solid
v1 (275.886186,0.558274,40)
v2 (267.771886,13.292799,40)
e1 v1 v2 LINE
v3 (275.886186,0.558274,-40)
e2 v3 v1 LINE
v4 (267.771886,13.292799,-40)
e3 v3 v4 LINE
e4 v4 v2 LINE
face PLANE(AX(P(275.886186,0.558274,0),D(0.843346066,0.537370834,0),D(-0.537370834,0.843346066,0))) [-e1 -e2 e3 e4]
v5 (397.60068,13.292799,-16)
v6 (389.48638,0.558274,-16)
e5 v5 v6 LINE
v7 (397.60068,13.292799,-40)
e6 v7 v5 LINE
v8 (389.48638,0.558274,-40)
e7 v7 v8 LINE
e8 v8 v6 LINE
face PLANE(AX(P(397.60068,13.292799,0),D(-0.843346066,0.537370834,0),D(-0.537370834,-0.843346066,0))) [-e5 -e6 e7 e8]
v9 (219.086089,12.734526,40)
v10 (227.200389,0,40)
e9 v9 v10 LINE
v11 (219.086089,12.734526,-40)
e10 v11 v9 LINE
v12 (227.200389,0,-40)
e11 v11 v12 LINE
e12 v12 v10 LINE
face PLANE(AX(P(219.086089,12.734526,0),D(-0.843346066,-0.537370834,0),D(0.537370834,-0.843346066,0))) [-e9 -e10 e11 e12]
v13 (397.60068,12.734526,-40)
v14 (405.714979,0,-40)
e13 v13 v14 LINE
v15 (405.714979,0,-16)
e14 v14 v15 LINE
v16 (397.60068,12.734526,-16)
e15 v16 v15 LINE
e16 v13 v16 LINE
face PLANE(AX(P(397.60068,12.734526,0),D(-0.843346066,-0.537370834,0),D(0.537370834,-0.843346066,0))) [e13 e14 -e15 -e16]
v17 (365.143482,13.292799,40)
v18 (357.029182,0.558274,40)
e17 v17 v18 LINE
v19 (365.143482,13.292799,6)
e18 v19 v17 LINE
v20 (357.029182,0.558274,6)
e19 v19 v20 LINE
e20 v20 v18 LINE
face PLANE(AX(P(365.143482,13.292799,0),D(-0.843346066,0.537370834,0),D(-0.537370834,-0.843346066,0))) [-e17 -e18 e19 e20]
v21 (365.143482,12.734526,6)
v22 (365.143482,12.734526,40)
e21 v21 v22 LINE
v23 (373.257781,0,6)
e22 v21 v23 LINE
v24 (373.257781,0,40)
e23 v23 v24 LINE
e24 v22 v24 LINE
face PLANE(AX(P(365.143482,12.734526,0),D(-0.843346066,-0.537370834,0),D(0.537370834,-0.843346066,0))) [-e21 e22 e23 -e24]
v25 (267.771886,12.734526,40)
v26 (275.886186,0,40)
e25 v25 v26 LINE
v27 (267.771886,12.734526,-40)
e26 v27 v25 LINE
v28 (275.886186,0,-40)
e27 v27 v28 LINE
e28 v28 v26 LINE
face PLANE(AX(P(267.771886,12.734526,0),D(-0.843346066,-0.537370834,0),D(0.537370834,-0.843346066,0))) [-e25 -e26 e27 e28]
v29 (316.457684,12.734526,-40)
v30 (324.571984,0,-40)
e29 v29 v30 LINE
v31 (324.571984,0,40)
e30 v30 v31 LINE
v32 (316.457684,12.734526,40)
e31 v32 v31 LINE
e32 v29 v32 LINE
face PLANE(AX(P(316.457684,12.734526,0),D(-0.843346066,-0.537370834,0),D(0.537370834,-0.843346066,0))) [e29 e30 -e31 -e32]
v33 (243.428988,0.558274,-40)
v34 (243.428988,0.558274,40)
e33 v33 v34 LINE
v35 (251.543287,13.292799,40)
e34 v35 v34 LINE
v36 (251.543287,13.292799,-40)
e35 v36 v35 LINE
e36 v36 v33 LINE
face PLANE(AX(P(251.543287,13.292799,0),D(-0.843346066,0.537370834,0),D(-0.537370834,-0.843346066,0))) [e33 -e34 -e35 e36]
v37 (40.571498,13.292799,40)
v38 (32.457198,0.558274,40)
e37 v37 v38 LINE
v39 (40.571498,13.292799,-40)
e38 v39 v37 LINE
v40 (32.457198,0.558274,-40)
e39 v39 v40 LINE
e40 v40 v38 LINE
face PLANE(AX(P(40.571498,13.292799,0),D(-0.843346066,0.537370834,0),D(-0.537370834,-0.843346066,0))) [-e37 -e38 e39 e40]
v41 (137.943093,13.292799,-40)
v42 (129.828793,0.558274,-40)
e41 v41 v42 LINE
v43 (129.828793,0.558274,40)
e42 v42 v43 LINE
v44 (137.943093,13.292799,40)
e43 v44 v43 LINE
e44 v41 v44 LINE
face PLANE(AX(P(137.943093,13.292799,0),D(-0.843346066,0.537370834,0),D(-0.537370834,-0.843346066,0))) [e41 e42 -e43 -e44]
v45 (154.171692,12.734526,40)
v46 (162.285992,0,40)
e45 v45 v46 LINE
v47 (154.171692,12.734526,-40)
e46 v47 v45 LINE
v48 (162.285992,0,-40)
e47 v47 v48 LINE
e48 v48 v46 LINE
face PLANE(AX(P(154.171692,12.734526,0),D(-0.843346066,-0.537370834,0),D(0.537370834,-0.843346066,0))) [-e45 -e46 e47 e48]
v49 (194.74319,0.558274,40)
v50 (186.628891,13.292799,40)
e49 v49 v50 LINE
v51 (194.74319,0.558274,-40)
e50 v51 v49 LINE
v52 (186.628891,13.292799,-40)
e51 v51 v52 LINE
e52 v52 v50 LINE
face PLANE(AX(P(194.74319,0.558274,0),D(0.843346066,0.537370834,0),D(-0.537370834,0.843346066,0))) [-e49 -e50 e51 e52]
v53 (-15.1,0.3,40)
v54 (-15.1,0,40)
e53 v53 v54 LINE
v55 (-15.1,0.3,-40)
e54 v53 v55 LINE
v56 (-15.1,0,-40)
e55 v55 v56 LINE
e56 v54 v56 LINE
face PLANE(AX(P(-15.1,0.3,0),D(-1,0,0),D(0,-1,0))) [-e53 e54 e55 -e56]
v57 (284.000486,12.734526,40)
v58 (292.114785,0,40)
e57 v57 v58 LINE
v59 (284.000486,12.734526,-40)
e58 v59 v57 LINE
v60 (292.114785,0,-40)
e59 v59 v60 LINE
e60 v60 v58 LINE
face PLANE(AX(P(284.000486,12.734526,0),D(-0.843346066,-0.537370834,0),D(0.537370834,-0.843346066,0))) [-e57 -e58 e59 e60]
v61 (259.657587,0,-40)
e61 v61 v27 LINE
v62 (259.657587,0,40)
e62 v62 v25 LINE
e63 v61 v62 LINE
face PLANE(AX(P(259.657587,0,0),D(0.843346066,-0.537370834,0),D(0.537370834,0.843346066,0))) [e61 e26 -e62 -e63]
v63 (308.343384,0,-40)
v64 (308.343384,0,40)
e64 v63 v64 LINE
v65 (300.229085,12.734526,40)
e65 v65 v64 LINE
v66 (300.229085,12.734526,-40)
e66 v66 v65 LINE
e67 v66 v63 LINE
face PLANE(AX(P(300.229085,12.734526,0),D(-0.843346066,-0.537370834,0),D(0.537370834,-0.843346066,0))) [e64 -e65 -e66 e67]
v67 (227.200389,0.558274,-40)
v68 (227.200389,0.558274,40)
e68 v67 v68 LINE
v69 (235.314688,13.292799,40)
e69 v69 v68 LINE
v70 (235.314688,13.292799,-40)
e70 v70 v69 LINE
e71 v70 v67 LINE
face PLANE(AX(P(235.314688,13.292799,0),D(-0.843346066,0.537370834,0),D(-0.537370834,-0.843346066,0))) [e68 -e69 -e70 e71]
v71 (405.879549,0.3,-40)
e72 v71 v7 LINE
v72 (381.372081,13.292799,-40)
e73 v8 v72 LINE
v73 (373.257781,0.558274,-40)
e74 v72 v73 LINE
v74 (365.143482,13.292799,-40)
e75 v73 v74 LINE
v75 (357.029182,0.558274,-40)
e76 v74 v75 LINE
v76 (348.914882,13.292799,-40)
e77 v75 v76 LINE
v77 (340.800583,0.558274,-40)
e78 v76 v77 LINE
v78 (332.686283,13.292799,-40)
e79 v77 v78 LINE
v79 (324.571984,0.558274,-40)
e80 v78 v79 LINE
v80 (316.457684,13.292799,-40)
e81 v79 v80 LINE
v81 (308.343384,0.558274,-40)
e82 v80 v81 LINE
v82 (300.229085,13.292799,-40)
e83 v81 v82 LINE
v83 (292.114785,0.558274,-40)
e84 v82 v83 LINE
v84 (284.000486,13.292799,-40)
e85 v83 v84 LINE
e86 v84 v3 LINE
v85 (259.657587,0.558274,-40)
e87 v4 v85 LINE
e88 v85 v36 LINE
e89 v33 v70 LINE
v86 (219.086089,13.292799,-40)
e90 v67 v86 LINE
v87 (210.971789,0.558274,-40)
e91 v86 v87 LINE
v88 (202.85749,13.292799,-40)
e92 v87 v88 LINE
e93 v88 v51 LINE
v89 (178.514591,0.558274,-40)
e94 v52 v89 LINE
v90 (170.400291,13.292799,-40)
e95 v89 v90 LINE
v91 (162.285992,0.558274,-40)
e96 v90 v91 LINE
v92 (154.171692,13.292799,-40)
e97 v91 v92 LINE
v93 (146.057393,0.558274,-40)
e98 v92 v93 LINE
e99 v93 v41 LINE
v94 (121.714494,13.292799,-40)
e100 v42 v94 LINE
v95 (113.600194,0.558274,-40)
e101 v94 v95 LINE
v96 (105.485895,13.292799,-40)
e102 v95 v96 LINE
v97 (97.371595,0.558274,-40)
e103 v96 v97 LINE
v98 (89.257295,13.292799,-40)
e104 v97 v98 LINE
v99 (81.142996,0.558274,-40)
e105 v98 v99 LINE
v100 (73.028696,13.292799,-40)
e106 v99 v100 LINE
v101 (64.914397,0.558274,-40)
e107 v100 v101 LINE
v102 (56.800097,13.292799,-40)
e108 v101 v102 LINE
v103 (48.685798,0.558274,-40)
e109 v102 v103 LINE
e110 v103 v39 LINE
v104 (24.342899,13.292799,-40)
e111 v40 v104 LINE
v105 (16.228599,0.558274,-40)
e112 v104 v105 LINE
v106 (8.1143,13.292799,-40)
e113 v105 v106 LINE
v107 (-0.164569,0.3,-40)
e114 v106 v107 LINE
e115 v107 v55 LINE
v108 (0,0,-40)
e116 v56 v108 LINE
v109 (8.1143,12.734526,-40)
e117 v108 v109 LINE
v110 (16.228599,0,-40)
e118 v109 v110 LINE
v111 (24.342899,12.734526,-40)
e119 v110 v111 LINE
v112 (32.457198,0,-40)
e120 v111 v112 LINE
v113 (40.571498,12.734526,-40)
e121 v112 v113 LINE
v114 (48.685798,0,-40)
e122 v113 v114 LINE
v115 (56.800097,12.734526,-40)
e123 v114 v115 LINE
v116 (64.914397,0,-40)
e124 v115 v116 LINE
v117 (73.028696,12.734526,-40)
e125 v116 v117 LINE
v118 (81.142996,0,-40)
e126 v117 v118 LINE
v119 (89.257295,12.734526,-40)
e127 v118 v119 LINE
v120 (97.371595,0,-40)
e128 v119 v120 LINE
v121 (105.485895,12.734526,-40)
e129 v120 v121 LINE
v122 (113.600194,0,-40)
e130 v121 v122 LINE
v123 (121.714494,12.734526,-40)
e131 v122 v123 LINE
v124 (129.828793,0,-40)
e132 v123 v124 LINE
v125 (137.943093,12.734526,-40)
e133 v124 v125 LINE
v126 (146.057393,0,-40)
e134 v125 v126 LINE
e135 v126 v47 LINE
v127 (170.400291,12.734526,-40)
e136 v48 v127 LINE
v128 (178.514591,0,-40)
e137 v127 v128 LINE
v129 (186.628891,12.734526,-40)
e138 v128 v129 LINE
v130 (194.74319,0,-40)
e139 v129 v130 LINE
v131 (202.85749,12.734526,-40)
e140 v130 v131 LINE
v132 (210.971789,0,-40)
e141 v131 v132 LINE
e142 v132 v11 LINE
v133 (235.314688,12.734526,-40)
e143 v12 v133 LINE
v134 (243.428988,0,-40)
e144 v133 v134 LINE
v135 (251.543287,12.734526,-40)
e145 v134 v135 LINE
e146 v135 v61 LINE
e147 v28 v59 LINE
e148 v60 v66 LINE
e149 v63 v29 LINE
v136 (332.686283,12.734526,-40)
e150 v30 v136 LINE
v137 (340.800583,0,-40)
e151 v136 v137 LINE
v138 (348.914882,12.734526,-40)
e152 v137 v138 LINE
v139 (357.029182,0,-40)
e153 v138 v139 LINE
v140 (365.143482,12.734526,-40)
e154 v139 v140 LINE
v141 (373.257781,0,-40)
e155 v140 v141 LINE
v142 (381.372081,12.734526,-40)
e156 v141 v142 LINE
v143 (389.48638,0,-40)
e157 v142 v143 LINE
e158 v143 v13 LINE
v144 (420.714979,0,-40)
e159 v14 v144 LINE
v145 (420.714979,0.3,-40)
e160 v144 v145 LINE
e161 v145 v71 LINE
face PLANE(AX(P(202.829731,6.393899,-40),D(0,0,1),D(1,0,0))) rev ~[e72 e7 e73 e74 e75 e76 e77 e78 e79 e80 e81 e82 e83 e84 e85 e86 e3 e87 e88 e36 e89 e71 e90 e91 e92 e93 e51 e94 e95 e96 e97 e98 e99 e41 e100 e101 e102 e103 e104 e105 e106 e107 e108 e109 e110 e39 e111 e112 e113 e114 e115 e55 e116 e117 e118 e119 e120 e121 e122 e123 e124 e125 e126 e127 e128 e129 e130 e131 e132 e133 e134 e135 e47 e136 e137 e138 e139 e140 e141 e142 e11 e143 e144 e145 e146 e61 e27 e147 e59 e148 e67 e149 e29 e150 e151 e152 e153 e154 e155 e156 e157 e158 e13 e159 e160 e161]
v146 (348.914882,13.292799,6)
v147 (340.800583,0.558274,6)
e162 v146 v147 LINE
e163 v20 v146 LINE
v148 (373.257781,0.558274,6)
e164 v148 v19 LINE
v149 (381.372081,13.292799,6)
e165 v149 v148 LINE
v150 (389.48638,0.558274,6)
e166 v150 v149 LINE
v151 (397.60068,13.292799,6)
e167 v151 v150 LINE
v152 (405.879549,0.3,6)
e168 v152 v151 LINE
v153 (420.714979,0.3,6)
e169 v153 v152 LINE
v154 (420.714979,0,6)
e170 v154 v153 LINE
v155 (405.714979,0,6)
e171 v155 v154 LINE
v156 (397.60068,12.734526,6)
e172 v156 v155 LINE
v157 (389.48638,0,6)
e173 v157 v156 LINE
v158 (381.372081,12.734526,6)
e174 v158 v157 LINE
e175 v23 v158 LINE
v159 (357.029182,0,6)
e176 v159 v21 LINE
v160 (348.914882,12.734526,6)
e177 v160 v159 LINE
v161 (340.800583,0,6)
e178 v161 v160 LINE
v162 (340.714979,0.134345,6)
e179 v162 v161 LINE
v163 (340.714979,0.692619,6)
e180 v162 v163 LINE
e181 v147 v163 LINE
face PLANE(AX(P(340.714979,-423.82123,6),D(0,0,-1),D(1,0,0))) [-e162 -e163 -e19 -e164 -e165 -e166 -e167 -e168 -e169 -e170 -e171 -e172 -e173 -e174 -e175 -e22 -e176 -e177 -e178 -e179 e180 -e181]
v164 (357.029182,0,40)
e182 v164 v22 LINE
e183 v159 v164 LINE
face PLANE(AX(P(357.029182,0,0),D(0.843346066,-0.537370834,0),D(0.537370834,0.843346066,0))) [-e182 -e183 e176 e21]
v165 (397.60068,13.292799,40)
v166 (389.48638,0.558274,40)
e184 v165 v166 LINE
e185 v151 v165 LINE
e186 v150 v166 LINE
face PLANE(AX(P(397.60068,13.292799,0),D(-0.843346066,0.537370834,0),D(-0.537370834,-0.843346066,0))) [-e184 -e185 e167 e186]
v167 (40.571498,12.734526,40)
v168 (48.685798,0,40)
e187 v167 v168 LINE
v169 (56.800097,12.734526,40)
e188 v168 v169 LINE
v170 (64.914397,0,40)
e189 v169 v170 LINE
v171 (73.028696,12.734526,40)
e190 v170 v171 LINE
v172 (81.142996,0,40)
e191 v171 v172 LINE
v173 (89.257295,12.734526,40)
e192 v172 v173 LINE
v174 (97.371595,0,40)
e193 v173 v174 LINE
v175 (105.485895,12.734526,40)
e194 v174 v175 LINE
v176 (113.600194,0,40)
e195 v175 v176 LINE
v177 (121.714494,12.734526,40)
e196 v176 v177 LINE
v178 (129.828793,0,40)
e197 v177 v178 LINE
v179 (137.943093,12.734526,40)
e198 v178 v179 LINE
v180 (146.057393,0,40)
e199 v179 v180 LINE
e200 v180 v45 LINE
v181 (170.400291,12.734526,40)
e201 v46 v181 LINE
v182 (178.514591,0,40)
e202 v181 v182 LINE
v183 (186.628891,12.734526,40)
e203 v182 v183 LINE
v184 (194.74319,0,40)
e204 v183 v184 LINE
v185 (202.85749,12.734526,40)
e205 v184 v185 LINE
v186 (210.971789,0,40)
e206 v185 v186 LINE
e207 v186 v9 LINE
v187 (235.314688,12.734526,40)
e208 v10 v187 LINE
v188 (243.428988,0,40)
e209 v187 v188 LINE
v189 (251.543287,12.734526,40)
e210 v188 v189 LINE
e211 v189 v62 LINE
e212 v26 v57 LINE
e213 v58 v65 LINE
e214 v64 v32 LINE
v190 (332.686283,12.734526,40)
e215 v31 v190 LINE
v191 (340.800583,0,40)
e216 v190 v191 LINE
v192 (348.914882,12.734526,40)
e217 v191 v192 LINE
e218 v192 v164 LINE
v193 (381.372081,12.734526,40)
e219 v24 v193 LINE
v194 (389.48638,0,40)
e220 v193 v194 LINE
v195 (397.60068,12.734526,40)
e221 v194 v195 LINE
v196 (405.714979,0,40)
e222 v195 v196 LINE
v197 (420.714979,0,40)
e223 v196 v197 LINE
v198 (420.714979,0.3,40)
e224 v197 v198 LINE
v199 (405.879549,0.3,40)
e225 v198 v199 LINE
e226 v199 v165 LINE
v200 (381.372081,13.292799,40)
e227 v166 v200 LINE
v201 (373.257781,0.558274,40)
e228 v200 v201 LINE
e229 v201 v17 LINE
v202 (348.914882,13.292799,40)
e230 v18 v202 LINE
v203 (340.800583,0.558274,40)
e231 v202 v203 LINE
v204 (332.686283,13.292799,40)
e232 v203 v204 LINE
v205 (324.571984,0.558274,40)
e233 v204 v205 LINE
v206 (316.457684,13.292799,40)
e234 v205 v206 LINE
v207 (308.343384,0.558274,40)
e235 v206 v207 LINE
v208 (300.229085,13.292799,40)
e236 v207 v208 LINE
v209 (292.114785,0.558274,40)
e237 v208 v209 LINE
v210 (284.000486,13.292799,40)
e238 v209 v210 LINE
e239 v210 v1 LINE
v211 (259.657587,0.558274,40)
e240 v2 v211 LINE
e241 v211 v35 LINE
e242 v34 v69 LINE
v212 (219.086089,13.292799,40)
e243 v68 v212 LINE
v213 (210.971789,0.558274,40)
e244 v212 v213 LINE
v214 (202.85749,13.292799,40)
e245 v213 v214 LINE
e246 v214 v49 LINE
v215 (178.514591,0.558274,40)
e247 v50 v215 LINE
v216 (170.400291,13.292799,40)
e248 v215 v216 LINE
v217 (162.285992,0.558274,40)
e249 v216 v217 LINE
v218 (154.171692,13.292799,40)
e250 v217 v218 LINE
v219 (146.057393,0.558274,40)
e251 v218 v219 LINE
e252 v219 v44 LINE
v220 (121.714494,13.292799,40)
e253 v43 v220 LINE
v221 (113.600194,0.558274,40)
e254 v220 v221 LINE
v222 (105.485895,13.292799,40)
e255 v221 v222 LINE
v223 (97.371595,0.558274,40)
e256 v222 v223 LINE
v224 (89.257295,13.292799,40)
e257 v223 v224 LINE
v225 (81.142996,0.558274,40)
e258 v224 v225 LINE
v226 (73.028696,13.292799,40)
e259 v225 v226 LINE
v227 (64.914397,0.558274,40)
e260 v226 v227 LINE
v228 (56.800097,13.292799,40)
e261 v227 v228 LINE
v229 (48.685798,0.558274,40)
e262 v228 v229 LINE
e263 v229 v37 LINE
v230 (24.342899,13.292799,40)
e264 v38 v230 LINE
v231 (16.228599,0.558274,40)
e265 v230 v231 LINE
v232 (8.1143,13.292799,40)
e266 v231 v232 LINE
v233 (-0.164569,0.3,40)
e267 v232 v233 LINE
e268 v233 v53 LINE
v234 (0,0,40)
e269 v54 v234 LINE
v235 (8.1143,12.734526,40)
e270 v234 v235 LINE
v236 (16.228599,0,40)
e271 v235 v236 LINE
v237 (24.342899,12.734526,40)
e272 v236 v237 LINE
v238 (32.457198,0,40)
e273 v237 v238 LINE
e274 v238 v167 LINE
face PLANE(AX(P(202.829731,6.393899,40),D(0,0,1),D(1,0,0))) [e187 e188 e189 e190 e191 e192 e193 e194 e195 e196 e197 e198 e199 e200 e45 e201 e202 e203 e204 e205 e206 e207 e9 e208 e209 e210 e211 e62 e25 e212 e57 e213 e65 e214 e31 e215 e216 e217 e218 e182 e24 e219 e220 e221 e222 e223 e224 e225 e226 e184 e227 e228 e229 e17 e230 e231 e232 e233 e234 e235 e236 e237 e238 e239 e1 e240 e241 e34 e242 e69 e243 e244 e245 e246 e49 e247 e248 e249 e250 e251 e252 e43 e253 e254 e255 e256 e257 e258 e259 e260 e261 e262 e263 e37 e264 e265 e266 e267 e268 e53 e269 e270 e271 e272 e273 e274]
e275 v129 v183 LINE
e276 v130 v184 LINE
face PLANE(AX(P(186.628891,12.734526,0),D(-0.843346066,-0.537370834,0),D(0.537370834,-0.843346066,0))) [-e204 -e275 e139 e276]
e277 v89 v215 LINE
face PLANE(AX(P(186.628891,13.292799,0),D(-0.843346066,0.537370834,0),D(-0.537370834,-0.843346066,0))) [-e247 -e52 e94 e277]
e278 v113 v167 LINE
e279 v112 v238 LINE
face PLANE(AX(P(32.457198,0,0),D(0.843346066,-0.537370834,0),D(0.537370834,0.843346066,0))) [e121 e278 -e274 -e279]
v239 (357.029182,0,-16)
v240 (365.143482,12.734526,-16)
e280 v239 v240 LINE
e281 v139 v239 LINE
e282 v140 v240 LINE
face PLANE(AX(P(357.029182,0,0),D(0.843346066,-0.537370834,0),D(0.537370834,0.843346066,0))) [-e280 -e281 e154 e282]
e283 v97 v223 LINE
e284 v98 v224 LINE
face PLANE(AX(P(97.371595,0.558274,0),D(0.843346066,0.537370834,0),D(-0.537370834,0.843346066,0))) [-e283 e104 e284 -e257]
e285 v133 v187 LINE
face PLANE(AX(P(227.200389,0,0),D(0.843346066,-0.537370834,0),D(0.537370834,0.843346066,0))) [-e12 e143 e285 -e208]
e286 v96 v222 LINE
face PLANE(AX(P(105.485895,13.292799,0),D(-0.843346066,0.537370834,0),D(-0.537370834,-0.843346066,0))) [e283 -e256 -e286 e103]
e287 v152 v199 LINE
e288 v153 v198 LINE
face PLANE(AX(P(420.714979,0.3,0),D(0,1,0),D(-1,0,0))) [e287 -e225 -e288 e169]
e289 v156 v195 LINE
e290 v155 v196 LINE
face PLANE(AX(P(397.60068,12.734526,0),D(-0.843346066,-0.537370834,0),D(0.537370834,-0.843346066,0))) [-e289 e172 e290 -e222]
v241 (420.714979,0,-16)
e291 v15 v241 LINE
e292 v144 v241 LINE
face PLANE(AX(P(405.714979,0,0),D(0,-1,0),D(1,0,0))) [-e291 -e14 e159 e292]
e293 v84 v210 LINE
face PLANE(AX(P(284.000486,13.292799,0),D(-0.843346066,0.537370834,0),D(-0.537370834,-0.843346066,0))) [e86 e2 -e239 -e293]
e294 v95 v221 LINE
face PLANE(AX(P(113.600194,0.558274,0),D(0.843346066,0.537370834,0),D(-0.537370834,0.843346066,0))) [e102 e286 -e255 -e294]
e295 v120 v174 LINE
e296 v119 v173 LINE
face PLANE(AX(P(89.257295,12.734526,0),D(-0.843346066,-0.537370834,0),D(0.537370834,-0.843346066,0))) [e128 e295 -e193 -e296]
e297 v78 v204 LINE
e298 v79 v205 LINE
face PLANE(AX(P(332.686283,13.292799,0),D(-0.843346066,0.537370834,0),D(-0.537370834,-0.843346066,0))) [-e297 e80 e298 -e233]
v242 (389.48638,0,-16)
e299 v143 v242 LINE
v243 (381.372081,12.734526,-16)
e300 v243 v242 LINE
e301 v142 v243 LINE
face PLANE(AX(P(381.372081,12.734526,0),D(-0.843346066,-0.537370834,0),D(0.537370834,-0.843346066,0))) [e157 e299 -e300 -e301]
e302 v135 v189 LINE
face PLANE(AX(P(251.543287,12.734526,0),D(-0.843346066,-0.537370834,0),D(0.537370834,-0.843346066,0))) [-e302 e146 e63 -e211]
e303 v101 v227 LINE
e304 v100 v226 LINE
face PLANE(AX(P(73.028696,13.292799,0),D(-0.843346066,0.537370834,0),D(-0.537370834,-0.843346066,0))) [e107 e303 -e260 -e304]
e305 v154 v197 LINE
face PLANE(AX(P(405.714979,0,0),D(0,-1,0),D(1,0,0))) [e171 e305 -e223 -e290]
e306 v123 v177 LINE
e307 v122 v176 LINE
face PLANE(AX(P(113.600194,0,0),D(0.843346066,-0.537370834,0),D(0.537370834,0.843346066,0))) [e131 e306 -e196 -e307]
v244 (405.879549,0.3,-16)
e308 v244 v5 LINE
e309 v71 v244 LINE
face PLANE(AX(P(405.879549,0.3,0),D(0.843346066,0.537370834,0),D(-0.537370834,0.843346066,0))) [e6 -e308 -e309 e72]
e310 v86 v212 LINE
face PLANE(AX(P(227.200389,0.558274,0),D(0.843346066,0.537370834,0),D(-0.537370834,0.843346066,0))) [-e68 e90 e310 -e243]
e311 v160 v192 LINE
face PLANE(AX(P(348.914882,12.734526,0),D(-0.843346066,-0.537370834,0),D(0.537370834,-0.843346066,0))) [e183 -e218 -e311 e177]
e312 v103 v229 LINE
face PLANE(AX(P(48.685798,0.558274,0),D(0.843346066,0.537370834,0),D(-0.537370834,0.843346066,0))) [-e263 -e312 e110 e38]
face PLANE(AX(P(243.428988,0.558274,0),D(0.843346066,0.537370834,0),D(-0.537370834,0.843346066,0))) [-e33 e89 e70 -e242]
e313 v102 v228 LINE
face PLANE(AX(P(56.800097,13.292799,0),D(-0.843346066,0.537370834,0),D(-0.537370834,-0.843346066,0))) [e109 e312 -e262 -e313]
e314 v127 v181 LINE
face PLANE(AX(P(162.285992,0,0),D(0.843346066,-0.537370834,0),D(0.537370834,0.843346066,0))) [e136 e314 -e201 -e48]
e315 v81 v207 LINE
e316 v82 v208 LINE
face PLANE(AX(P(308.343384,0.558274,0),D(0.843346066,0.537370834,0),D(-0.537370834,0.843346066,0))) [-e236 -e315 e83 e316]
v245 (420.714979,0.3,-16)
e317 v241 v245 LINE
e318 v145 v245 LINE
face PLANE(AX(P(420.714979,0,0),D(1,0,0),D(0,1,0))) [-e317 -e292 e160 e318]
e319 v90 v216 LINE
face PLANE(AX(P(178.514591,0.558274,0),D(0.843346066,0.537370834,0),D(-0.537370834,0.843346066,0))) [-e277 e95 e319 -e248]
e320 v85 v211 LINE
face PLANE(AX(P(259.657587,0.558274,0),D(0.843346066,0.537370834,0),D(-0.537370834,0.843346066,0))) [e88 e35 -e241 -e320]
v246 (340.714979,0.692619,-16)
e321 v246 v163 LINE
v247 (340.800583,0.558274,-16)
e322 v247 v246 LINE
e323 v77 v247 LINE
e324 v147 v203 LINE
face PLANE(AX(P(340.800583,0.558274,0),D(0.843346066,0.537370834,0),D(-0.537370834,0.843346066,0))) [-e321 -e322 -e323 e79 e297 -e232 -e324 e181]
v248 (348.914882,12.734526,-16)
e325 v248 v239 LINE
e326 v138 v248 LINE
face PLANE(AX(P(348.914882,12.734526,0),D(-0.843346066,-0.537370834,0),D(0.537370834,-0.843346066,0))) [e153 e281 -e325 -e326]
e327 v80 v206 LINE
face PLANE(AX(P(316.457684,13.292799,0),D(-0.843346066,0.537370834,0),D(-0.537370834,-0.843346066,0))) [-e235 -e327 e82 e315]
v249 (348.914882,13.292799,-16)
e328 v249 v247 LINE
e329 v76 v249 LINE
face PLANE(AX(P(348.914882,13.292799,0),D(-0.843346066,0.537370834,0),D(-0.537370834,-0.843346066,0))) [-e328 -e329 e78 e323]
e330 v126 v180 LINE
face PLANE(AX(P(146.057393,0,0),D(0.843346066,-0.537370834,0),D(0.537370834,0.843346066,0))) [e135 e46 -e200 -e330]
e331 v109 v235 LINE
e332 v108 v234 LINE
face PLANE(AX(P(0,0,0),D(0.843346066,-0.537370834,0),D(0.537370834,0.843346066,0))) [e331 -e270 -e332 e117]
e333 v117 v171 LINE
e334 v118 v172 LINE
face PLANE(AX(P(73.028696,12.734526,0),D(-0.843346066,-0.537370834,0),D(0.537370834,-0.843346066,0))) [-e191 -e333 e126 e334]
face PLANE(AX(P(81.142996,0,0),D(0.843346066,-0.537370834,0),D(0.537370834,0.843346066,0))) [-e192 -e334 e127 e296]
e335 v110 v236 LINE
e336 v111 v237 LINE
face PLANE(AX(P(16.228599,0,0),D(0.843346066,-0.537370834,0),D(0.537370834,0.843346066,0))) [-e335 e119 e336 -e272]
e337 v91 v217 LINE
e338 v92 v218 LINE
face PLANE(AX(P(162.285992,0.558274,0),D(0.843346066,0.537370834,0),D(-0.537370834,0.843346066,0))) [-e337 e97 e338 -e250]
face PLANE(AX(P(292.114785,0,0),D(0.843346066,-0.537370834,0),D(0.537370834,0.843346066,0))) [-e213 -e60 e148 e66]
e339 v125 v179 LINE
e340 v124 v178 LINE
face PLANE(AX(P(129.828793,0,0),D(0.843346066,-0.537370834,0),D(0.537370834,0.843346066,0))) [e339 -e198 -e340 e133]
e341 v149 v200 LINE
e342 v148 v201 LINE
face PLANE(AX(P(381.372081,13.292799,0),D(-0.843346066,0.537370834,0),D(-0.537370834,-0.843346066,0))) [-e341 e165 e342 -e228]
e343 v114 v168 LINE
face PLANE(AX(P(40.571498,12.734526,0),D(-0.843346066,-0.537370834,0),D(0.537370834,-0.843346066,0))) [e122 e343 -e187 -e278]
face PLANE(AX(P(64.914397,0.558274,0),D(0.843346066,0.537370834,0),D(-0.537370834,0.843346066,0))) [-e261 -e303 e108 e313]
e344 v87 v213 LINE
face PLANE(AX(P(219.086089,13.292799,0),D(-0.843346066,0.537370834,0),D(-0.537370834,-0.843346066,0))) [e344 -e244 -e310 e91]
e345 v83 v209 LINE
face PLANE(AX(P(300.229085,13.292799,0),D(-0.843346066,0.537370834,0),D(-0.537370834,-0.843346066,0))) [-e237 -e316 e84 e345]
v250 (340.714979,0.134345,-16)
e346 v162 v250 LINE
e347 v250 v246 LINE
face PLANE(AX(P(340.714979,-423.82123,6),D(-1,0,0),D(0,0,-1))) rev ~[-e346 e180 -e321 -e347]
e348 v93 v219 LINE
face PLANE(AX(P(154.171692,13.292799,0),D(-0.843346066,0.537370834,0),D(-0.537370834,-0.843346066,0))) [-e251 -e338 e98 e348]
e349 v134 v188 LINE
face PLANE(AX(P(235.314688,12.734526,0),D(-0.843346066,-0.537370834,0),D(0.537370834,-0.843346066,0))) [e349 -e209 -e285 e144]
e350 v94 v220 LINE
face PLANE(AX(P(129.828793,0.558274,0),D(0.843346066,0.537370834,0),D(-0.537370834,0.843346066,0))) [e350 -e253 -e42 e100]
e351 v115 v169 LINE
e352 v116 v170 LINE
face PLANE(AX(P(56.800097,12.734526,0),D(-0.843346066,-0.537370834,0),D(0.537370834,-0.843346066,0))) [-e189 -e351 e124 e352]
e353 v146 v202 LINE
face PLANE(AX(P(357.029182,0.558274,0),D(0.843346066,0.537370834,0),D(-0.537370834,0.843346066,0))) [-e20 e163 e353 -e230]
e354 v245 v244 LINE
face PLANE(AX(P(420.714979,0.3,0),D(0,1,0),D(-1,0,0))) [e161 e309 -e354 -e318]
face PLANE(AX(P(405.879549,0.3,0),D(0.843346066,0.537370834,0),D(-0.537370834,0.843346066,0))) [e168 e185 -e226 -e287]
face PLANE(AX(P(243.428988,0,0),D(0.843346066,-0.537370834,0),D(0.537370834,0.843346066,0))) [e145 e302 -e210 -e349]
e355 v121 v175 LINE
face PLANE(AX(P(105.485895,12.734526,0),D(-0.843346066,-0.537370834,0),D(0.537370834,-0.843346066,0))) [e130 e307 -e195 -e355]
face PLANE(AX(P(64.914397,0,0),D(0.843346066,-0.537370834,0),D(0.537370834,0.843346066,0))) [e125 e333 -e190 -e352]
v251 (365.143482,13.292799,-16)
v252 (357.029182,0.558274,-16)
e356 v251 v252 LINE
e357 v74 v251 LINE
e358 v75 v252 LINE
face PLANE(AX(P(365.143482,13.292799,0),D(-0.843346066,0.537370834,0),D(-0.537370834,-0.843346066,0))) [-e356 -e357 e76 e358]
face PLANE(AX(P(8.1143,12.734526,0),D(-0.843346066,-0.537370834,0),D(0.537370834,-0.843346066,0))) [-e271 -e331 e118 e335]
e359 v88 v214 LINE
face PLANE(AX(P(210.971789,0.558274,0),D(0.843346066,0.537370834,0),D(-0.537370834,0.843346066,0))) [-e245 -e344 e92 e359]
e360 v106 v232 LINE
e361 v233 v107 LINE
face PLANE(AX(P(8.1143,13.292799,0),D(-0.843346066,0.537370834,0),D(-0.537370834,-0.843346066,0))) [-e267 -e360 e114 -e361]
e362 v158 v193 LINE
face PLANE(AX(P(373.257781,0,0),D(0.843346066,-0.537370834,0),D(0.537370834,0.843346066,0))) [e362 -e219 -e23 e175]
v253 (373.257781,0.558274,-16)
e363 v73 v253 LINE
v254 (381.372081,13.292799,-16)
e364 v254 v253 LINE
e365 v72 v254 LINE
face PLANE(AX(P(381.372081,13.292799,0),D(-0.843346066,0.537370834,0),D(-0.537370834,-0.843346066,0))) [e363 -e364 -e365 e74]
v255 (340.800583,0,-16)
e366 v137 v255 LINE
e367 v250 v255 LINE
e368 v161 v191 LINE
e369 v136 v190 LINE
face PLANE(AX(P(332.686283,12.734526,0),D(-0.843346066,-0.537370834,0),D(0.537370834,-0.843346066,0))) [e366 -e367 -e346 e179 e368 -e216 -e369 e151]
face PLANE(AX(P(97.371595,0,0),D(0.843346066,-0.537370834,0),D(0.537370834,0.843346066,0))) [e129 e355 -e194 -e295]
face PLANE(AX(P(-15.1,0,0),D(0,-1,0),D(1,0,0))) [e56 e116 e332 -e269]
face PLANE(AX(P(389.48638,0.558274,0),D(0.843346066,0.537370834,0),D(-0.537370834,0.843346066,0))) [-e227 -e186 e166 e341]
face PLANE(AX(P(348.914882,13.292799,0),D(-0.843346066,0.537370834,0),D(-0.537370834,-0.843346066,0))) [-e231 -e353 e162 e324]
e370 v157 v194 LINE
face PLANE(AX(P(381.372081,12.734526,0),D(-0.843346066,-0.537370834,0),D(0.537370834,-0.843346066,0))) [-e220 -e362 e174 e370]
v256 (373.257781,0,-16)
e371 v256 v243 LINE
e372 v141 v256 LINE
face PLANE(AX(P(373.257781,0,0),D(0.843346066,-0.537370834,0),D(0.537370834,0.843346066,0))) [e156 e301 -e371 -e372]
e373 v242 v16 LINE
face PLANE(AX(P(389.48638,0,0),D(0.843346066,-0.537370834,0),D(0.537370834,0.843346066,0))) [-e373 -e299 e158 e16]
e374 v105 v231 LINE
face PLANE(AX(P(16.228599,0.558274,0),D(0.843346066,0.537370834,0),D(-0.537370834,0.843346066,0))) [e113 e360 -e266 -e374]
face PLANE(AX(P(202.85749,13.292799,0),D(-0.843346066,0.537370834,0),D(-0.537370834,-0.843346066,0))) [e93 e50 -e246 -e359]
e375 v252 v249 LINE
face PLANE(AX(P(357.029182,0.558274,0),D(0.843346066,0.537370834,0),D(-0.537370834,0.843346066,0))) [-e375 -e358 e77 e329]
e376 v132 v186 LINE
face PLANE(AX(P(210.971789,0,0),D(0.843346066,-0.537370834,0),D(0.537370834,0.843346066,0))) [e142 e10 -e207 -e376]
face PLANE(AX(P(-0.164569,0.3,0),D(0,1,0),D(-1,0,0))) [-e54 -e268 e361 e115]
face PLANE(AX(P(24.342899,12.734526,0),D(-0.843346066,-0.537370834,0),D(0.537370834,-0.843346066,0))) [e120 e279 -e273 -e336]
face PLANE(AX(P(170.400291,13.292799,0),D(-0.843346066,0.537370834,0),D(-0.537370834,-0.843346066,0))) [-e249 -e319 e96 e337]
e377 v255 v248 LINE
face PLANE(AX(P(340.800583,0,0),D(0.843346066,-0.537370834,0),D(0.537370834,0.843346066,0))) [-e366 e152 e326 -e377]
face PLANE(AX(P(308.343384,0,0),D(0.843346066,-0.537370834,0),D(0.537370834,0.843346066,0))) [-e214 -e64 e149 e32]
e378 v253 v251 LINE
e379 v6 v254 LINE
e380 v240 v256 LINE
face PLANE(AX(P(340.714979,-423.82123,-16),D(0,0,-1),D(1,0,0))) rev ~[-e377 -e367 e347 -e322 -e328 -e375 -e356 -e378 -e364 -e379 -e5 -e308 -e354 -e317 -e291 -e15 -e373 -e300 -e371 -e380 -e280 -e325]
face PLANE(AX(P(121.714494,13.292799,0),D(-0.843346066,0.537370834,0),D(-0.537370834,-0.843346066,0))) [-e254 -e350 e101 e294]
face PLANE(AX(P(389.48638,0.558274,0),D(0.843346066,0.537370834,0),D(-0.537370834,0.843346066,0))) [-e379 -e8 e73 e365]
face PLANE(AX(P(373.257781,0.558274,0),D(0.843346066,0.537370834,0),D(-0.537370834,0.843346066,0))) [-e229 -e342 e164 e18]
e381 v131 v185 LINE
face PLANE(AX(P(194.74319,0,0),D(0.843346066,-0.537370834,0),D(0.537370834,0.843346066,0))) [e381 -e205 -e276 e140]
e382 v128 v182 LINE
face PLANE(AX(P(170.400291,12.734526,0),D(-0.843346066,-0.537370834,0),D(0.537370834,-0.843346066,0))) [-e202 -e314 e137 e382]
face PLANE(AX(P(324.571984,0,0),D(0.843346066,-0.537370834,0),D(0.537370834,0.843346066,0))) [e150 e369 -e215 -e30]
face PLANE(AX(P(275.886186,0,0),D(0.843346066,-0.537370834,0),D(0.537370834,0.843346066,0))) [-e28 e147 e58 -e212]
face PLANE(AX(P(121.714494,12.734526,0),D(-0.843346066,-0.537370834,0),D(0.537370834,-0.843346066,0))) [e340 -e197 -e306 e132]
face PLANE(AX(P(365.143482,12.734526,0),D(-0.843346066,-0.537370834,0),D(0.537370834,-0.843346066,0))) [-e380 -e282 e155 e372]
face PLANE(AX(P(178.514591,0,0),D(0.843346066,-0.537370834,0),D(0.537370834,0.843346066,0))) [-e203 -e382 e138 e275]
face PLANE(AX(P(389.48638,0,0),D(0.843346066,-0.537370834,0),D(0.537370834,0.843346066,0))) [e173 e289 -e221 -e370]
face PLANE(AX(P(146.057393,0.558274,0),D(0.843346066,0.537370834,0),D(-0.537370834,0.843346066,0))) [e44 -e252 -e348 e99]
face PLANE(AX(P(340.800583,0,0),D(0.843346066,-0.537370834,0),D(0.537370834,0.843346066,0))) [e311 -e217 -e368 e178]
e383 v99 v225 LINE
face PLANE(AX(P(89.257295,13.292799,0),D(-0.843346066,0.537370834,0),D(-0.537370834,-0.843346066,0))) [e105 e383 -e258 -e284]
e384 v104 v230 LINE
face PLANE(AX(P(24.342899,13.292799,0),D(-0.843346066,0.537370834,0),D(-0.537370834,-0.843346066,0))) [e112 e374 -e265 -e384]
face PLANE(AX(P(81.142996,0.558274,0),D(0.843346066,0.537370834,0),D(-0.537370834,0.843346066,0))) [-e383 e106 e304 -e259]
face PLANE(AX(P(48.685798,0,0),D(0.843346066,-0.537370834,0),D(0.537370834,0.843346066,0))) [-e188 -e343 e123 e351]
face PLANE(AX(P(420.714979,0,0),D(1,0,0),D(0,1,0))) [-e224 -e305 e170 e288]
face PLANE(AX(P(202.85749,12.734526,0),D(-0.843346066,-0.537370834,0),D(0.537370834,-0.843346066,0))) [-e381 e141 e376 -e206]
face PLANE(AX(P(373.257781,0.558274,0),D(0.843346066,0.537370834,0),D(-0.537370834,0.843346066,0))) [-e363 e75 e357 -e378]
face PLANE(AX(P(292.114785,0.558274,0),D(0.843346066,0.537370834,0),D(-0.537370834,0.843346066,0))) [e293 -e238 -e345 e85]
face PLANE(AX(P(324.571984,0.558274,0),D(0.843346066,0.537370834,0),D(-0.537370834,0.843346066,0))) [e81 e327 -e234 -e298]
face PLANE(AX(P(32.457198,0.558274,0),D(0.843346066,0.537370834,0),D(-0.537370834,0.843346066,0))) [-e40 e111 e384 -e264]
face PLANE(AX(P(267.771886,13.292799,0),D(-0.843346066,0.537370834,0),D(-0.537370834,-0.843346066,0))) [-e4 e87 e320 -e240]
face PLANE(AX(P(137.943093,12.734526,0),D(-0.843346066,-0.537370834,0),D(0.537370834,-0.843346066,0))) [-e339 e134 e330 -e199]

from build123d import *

# Parameters (mm, degrees)
EXTRUDE_THIN1_DEPTH     = 40
CUT_EXTRUDE4_DEPTH      = 423.821229931
CUT_EXTRUDE4_DEPTH_BACK = 423.821229931
SKETCH2_W               = 80
SKETCH2_H               = 22


with BuildPart() as part:
    # Sketch1 → Extrude-Thin1 (new, symmetric)
    with BuildSketch(Plane.XY):
        Polygon((-15.1, 0), (0, 0), (8.11429959, 12.734525596), (16.22859918, 0), (24.342898769, 12.734525596), (32.457198359, 0), (40.571497949, 12.734525596), (48.685797539, 0), (56.800097129, 12.734525596), (64.914396718, 0), (73.028696308, 12.734525596), (81.142995898, 0), (89.257295488, 12.734525596), (97.371595078, 0), (105.485894667, 12.734525596), (113.600194257, 0), (121.714493847, 12.734525596), (129.828793437, 0), (137.943093027, 12.734525596), (146.057392616, 0), (154.171692206, 12.734525596), (162.285991796, 0), (170.400291386, 12.734525596), (178.514590976, 0), (186.628890565, 12.734525596), (194.743190155, 0), (202.857489745, 12.734525596), (210.971789335, 0), (219.086088925, 12.734525596), (227.200388515, 0), (235.314688104, 12.734525596), (243.428987694, 0), (251.543287284, 12.734525596), (259.657586874, 0), (267.771886464, 12.734525596), (275.886186053, 0), (284.000485643, 12.734525596), (292.114785233, 0), (300.229084823, 12.734525596), (308.343384413, 0), (316.457684002, 12.734525596), (324.571983592, 0), (332.686283182, 12.734525596), (340.800582772, 0), (348.914882362, 12.734525596), (357.029181951, 0), (365.143481541, 12.734525596), (373.257781131, 0), (381.372080721, 12.734525596), (389.486380311, 0), (397.6006799, 12.734525596), (405.71497949, 0), (420.71497949, 0), (420.71497949, 0.3), (405.879548646, 0.3), (397.6006799, 13.29279929), (389.486380311, 0.558273693), (381.372080721, 13.29279929), (373.257781131, 0.558273693), (365.143481541, 13.29279929), (357.029181951, 0.558273693), (348.914882362, 13.29279929), (340.800582772, 0.558273693), (332.686283182, 13.29279929), (324.571983592, 0.558273693), (316.457684002, 13.29279929), (308.343384413, 0.558273693), (300.229084823, 13.29279929), (292.114785233, 0.558273693), (284.000485643, 13.29279929), (275.886186053, 0.558273693), (267.771886464, 13.29279929), (259.657586874, 0.558273693), (251.543287284, 13.29279929), (243.428987694, 0.558273693), (235.314688104, 13.29279929), (227.200388515, 0.558273693), (219.086088925, 13.29279929), (210.971789335, 0.558273693), (202.857489745, 13.29279929), (194.743190155, 0.558273693), (186.628890565, 13.29279929), (178.514590976, 0.558273693), (170.400291386, 13.29279929), (162.285991796, 0.558273693), (154.171692206, 13.29279929), (146.057392616, 0.558273693), (137.943093027, 13.29279929), (129.828793437, 0.558273693), (121.714493847, 13.29279929), (113.600194257, 0.558273693), (105.485894667, 13.29279929), (97.371595078, 0.558273693), (89.257295488, 13.29279929), (81.142995898, 0.558273693), (73.028696308, 13.29279929), (64.914396718, 0.558273693), (56.800097129, 13.29279929), (48.685797539, 0.558273693), (40.571497949, 13.29279929), (32.457198359, 0.558273693), (24.342898769, 13.29279929), (16.22859918, 0.558273693), (8.11429959, 13.29279929), (-0.164569155, 0.3), (-15.1, 0.3), align=None)
    extrude(amount=EXTRUDE_THIN1_DEPTH, both=True)

    # Sketch2 → Cut-Extrude4 (cut, two sides: drawn at the far end of the back side and taken through both)
    with BuildSketch(Plane(origin=(0, 0, 0), x_dir=(1, 0, 0), z_dir=(0, 1, 0)).offset(-CUT_EXTRUDE4_DEPTH_BACK)):
        with Locations((380.71497949, 5)):
            Rectangle(SKETCH2_W, SKETCH2_H)
    extrude(amount=CUT_EXTRUDE4_DEPTH + CUT_EXTRUDE4_DEPTH_BACK, mode=Mode.SUBTRACT)


solid = part.part
